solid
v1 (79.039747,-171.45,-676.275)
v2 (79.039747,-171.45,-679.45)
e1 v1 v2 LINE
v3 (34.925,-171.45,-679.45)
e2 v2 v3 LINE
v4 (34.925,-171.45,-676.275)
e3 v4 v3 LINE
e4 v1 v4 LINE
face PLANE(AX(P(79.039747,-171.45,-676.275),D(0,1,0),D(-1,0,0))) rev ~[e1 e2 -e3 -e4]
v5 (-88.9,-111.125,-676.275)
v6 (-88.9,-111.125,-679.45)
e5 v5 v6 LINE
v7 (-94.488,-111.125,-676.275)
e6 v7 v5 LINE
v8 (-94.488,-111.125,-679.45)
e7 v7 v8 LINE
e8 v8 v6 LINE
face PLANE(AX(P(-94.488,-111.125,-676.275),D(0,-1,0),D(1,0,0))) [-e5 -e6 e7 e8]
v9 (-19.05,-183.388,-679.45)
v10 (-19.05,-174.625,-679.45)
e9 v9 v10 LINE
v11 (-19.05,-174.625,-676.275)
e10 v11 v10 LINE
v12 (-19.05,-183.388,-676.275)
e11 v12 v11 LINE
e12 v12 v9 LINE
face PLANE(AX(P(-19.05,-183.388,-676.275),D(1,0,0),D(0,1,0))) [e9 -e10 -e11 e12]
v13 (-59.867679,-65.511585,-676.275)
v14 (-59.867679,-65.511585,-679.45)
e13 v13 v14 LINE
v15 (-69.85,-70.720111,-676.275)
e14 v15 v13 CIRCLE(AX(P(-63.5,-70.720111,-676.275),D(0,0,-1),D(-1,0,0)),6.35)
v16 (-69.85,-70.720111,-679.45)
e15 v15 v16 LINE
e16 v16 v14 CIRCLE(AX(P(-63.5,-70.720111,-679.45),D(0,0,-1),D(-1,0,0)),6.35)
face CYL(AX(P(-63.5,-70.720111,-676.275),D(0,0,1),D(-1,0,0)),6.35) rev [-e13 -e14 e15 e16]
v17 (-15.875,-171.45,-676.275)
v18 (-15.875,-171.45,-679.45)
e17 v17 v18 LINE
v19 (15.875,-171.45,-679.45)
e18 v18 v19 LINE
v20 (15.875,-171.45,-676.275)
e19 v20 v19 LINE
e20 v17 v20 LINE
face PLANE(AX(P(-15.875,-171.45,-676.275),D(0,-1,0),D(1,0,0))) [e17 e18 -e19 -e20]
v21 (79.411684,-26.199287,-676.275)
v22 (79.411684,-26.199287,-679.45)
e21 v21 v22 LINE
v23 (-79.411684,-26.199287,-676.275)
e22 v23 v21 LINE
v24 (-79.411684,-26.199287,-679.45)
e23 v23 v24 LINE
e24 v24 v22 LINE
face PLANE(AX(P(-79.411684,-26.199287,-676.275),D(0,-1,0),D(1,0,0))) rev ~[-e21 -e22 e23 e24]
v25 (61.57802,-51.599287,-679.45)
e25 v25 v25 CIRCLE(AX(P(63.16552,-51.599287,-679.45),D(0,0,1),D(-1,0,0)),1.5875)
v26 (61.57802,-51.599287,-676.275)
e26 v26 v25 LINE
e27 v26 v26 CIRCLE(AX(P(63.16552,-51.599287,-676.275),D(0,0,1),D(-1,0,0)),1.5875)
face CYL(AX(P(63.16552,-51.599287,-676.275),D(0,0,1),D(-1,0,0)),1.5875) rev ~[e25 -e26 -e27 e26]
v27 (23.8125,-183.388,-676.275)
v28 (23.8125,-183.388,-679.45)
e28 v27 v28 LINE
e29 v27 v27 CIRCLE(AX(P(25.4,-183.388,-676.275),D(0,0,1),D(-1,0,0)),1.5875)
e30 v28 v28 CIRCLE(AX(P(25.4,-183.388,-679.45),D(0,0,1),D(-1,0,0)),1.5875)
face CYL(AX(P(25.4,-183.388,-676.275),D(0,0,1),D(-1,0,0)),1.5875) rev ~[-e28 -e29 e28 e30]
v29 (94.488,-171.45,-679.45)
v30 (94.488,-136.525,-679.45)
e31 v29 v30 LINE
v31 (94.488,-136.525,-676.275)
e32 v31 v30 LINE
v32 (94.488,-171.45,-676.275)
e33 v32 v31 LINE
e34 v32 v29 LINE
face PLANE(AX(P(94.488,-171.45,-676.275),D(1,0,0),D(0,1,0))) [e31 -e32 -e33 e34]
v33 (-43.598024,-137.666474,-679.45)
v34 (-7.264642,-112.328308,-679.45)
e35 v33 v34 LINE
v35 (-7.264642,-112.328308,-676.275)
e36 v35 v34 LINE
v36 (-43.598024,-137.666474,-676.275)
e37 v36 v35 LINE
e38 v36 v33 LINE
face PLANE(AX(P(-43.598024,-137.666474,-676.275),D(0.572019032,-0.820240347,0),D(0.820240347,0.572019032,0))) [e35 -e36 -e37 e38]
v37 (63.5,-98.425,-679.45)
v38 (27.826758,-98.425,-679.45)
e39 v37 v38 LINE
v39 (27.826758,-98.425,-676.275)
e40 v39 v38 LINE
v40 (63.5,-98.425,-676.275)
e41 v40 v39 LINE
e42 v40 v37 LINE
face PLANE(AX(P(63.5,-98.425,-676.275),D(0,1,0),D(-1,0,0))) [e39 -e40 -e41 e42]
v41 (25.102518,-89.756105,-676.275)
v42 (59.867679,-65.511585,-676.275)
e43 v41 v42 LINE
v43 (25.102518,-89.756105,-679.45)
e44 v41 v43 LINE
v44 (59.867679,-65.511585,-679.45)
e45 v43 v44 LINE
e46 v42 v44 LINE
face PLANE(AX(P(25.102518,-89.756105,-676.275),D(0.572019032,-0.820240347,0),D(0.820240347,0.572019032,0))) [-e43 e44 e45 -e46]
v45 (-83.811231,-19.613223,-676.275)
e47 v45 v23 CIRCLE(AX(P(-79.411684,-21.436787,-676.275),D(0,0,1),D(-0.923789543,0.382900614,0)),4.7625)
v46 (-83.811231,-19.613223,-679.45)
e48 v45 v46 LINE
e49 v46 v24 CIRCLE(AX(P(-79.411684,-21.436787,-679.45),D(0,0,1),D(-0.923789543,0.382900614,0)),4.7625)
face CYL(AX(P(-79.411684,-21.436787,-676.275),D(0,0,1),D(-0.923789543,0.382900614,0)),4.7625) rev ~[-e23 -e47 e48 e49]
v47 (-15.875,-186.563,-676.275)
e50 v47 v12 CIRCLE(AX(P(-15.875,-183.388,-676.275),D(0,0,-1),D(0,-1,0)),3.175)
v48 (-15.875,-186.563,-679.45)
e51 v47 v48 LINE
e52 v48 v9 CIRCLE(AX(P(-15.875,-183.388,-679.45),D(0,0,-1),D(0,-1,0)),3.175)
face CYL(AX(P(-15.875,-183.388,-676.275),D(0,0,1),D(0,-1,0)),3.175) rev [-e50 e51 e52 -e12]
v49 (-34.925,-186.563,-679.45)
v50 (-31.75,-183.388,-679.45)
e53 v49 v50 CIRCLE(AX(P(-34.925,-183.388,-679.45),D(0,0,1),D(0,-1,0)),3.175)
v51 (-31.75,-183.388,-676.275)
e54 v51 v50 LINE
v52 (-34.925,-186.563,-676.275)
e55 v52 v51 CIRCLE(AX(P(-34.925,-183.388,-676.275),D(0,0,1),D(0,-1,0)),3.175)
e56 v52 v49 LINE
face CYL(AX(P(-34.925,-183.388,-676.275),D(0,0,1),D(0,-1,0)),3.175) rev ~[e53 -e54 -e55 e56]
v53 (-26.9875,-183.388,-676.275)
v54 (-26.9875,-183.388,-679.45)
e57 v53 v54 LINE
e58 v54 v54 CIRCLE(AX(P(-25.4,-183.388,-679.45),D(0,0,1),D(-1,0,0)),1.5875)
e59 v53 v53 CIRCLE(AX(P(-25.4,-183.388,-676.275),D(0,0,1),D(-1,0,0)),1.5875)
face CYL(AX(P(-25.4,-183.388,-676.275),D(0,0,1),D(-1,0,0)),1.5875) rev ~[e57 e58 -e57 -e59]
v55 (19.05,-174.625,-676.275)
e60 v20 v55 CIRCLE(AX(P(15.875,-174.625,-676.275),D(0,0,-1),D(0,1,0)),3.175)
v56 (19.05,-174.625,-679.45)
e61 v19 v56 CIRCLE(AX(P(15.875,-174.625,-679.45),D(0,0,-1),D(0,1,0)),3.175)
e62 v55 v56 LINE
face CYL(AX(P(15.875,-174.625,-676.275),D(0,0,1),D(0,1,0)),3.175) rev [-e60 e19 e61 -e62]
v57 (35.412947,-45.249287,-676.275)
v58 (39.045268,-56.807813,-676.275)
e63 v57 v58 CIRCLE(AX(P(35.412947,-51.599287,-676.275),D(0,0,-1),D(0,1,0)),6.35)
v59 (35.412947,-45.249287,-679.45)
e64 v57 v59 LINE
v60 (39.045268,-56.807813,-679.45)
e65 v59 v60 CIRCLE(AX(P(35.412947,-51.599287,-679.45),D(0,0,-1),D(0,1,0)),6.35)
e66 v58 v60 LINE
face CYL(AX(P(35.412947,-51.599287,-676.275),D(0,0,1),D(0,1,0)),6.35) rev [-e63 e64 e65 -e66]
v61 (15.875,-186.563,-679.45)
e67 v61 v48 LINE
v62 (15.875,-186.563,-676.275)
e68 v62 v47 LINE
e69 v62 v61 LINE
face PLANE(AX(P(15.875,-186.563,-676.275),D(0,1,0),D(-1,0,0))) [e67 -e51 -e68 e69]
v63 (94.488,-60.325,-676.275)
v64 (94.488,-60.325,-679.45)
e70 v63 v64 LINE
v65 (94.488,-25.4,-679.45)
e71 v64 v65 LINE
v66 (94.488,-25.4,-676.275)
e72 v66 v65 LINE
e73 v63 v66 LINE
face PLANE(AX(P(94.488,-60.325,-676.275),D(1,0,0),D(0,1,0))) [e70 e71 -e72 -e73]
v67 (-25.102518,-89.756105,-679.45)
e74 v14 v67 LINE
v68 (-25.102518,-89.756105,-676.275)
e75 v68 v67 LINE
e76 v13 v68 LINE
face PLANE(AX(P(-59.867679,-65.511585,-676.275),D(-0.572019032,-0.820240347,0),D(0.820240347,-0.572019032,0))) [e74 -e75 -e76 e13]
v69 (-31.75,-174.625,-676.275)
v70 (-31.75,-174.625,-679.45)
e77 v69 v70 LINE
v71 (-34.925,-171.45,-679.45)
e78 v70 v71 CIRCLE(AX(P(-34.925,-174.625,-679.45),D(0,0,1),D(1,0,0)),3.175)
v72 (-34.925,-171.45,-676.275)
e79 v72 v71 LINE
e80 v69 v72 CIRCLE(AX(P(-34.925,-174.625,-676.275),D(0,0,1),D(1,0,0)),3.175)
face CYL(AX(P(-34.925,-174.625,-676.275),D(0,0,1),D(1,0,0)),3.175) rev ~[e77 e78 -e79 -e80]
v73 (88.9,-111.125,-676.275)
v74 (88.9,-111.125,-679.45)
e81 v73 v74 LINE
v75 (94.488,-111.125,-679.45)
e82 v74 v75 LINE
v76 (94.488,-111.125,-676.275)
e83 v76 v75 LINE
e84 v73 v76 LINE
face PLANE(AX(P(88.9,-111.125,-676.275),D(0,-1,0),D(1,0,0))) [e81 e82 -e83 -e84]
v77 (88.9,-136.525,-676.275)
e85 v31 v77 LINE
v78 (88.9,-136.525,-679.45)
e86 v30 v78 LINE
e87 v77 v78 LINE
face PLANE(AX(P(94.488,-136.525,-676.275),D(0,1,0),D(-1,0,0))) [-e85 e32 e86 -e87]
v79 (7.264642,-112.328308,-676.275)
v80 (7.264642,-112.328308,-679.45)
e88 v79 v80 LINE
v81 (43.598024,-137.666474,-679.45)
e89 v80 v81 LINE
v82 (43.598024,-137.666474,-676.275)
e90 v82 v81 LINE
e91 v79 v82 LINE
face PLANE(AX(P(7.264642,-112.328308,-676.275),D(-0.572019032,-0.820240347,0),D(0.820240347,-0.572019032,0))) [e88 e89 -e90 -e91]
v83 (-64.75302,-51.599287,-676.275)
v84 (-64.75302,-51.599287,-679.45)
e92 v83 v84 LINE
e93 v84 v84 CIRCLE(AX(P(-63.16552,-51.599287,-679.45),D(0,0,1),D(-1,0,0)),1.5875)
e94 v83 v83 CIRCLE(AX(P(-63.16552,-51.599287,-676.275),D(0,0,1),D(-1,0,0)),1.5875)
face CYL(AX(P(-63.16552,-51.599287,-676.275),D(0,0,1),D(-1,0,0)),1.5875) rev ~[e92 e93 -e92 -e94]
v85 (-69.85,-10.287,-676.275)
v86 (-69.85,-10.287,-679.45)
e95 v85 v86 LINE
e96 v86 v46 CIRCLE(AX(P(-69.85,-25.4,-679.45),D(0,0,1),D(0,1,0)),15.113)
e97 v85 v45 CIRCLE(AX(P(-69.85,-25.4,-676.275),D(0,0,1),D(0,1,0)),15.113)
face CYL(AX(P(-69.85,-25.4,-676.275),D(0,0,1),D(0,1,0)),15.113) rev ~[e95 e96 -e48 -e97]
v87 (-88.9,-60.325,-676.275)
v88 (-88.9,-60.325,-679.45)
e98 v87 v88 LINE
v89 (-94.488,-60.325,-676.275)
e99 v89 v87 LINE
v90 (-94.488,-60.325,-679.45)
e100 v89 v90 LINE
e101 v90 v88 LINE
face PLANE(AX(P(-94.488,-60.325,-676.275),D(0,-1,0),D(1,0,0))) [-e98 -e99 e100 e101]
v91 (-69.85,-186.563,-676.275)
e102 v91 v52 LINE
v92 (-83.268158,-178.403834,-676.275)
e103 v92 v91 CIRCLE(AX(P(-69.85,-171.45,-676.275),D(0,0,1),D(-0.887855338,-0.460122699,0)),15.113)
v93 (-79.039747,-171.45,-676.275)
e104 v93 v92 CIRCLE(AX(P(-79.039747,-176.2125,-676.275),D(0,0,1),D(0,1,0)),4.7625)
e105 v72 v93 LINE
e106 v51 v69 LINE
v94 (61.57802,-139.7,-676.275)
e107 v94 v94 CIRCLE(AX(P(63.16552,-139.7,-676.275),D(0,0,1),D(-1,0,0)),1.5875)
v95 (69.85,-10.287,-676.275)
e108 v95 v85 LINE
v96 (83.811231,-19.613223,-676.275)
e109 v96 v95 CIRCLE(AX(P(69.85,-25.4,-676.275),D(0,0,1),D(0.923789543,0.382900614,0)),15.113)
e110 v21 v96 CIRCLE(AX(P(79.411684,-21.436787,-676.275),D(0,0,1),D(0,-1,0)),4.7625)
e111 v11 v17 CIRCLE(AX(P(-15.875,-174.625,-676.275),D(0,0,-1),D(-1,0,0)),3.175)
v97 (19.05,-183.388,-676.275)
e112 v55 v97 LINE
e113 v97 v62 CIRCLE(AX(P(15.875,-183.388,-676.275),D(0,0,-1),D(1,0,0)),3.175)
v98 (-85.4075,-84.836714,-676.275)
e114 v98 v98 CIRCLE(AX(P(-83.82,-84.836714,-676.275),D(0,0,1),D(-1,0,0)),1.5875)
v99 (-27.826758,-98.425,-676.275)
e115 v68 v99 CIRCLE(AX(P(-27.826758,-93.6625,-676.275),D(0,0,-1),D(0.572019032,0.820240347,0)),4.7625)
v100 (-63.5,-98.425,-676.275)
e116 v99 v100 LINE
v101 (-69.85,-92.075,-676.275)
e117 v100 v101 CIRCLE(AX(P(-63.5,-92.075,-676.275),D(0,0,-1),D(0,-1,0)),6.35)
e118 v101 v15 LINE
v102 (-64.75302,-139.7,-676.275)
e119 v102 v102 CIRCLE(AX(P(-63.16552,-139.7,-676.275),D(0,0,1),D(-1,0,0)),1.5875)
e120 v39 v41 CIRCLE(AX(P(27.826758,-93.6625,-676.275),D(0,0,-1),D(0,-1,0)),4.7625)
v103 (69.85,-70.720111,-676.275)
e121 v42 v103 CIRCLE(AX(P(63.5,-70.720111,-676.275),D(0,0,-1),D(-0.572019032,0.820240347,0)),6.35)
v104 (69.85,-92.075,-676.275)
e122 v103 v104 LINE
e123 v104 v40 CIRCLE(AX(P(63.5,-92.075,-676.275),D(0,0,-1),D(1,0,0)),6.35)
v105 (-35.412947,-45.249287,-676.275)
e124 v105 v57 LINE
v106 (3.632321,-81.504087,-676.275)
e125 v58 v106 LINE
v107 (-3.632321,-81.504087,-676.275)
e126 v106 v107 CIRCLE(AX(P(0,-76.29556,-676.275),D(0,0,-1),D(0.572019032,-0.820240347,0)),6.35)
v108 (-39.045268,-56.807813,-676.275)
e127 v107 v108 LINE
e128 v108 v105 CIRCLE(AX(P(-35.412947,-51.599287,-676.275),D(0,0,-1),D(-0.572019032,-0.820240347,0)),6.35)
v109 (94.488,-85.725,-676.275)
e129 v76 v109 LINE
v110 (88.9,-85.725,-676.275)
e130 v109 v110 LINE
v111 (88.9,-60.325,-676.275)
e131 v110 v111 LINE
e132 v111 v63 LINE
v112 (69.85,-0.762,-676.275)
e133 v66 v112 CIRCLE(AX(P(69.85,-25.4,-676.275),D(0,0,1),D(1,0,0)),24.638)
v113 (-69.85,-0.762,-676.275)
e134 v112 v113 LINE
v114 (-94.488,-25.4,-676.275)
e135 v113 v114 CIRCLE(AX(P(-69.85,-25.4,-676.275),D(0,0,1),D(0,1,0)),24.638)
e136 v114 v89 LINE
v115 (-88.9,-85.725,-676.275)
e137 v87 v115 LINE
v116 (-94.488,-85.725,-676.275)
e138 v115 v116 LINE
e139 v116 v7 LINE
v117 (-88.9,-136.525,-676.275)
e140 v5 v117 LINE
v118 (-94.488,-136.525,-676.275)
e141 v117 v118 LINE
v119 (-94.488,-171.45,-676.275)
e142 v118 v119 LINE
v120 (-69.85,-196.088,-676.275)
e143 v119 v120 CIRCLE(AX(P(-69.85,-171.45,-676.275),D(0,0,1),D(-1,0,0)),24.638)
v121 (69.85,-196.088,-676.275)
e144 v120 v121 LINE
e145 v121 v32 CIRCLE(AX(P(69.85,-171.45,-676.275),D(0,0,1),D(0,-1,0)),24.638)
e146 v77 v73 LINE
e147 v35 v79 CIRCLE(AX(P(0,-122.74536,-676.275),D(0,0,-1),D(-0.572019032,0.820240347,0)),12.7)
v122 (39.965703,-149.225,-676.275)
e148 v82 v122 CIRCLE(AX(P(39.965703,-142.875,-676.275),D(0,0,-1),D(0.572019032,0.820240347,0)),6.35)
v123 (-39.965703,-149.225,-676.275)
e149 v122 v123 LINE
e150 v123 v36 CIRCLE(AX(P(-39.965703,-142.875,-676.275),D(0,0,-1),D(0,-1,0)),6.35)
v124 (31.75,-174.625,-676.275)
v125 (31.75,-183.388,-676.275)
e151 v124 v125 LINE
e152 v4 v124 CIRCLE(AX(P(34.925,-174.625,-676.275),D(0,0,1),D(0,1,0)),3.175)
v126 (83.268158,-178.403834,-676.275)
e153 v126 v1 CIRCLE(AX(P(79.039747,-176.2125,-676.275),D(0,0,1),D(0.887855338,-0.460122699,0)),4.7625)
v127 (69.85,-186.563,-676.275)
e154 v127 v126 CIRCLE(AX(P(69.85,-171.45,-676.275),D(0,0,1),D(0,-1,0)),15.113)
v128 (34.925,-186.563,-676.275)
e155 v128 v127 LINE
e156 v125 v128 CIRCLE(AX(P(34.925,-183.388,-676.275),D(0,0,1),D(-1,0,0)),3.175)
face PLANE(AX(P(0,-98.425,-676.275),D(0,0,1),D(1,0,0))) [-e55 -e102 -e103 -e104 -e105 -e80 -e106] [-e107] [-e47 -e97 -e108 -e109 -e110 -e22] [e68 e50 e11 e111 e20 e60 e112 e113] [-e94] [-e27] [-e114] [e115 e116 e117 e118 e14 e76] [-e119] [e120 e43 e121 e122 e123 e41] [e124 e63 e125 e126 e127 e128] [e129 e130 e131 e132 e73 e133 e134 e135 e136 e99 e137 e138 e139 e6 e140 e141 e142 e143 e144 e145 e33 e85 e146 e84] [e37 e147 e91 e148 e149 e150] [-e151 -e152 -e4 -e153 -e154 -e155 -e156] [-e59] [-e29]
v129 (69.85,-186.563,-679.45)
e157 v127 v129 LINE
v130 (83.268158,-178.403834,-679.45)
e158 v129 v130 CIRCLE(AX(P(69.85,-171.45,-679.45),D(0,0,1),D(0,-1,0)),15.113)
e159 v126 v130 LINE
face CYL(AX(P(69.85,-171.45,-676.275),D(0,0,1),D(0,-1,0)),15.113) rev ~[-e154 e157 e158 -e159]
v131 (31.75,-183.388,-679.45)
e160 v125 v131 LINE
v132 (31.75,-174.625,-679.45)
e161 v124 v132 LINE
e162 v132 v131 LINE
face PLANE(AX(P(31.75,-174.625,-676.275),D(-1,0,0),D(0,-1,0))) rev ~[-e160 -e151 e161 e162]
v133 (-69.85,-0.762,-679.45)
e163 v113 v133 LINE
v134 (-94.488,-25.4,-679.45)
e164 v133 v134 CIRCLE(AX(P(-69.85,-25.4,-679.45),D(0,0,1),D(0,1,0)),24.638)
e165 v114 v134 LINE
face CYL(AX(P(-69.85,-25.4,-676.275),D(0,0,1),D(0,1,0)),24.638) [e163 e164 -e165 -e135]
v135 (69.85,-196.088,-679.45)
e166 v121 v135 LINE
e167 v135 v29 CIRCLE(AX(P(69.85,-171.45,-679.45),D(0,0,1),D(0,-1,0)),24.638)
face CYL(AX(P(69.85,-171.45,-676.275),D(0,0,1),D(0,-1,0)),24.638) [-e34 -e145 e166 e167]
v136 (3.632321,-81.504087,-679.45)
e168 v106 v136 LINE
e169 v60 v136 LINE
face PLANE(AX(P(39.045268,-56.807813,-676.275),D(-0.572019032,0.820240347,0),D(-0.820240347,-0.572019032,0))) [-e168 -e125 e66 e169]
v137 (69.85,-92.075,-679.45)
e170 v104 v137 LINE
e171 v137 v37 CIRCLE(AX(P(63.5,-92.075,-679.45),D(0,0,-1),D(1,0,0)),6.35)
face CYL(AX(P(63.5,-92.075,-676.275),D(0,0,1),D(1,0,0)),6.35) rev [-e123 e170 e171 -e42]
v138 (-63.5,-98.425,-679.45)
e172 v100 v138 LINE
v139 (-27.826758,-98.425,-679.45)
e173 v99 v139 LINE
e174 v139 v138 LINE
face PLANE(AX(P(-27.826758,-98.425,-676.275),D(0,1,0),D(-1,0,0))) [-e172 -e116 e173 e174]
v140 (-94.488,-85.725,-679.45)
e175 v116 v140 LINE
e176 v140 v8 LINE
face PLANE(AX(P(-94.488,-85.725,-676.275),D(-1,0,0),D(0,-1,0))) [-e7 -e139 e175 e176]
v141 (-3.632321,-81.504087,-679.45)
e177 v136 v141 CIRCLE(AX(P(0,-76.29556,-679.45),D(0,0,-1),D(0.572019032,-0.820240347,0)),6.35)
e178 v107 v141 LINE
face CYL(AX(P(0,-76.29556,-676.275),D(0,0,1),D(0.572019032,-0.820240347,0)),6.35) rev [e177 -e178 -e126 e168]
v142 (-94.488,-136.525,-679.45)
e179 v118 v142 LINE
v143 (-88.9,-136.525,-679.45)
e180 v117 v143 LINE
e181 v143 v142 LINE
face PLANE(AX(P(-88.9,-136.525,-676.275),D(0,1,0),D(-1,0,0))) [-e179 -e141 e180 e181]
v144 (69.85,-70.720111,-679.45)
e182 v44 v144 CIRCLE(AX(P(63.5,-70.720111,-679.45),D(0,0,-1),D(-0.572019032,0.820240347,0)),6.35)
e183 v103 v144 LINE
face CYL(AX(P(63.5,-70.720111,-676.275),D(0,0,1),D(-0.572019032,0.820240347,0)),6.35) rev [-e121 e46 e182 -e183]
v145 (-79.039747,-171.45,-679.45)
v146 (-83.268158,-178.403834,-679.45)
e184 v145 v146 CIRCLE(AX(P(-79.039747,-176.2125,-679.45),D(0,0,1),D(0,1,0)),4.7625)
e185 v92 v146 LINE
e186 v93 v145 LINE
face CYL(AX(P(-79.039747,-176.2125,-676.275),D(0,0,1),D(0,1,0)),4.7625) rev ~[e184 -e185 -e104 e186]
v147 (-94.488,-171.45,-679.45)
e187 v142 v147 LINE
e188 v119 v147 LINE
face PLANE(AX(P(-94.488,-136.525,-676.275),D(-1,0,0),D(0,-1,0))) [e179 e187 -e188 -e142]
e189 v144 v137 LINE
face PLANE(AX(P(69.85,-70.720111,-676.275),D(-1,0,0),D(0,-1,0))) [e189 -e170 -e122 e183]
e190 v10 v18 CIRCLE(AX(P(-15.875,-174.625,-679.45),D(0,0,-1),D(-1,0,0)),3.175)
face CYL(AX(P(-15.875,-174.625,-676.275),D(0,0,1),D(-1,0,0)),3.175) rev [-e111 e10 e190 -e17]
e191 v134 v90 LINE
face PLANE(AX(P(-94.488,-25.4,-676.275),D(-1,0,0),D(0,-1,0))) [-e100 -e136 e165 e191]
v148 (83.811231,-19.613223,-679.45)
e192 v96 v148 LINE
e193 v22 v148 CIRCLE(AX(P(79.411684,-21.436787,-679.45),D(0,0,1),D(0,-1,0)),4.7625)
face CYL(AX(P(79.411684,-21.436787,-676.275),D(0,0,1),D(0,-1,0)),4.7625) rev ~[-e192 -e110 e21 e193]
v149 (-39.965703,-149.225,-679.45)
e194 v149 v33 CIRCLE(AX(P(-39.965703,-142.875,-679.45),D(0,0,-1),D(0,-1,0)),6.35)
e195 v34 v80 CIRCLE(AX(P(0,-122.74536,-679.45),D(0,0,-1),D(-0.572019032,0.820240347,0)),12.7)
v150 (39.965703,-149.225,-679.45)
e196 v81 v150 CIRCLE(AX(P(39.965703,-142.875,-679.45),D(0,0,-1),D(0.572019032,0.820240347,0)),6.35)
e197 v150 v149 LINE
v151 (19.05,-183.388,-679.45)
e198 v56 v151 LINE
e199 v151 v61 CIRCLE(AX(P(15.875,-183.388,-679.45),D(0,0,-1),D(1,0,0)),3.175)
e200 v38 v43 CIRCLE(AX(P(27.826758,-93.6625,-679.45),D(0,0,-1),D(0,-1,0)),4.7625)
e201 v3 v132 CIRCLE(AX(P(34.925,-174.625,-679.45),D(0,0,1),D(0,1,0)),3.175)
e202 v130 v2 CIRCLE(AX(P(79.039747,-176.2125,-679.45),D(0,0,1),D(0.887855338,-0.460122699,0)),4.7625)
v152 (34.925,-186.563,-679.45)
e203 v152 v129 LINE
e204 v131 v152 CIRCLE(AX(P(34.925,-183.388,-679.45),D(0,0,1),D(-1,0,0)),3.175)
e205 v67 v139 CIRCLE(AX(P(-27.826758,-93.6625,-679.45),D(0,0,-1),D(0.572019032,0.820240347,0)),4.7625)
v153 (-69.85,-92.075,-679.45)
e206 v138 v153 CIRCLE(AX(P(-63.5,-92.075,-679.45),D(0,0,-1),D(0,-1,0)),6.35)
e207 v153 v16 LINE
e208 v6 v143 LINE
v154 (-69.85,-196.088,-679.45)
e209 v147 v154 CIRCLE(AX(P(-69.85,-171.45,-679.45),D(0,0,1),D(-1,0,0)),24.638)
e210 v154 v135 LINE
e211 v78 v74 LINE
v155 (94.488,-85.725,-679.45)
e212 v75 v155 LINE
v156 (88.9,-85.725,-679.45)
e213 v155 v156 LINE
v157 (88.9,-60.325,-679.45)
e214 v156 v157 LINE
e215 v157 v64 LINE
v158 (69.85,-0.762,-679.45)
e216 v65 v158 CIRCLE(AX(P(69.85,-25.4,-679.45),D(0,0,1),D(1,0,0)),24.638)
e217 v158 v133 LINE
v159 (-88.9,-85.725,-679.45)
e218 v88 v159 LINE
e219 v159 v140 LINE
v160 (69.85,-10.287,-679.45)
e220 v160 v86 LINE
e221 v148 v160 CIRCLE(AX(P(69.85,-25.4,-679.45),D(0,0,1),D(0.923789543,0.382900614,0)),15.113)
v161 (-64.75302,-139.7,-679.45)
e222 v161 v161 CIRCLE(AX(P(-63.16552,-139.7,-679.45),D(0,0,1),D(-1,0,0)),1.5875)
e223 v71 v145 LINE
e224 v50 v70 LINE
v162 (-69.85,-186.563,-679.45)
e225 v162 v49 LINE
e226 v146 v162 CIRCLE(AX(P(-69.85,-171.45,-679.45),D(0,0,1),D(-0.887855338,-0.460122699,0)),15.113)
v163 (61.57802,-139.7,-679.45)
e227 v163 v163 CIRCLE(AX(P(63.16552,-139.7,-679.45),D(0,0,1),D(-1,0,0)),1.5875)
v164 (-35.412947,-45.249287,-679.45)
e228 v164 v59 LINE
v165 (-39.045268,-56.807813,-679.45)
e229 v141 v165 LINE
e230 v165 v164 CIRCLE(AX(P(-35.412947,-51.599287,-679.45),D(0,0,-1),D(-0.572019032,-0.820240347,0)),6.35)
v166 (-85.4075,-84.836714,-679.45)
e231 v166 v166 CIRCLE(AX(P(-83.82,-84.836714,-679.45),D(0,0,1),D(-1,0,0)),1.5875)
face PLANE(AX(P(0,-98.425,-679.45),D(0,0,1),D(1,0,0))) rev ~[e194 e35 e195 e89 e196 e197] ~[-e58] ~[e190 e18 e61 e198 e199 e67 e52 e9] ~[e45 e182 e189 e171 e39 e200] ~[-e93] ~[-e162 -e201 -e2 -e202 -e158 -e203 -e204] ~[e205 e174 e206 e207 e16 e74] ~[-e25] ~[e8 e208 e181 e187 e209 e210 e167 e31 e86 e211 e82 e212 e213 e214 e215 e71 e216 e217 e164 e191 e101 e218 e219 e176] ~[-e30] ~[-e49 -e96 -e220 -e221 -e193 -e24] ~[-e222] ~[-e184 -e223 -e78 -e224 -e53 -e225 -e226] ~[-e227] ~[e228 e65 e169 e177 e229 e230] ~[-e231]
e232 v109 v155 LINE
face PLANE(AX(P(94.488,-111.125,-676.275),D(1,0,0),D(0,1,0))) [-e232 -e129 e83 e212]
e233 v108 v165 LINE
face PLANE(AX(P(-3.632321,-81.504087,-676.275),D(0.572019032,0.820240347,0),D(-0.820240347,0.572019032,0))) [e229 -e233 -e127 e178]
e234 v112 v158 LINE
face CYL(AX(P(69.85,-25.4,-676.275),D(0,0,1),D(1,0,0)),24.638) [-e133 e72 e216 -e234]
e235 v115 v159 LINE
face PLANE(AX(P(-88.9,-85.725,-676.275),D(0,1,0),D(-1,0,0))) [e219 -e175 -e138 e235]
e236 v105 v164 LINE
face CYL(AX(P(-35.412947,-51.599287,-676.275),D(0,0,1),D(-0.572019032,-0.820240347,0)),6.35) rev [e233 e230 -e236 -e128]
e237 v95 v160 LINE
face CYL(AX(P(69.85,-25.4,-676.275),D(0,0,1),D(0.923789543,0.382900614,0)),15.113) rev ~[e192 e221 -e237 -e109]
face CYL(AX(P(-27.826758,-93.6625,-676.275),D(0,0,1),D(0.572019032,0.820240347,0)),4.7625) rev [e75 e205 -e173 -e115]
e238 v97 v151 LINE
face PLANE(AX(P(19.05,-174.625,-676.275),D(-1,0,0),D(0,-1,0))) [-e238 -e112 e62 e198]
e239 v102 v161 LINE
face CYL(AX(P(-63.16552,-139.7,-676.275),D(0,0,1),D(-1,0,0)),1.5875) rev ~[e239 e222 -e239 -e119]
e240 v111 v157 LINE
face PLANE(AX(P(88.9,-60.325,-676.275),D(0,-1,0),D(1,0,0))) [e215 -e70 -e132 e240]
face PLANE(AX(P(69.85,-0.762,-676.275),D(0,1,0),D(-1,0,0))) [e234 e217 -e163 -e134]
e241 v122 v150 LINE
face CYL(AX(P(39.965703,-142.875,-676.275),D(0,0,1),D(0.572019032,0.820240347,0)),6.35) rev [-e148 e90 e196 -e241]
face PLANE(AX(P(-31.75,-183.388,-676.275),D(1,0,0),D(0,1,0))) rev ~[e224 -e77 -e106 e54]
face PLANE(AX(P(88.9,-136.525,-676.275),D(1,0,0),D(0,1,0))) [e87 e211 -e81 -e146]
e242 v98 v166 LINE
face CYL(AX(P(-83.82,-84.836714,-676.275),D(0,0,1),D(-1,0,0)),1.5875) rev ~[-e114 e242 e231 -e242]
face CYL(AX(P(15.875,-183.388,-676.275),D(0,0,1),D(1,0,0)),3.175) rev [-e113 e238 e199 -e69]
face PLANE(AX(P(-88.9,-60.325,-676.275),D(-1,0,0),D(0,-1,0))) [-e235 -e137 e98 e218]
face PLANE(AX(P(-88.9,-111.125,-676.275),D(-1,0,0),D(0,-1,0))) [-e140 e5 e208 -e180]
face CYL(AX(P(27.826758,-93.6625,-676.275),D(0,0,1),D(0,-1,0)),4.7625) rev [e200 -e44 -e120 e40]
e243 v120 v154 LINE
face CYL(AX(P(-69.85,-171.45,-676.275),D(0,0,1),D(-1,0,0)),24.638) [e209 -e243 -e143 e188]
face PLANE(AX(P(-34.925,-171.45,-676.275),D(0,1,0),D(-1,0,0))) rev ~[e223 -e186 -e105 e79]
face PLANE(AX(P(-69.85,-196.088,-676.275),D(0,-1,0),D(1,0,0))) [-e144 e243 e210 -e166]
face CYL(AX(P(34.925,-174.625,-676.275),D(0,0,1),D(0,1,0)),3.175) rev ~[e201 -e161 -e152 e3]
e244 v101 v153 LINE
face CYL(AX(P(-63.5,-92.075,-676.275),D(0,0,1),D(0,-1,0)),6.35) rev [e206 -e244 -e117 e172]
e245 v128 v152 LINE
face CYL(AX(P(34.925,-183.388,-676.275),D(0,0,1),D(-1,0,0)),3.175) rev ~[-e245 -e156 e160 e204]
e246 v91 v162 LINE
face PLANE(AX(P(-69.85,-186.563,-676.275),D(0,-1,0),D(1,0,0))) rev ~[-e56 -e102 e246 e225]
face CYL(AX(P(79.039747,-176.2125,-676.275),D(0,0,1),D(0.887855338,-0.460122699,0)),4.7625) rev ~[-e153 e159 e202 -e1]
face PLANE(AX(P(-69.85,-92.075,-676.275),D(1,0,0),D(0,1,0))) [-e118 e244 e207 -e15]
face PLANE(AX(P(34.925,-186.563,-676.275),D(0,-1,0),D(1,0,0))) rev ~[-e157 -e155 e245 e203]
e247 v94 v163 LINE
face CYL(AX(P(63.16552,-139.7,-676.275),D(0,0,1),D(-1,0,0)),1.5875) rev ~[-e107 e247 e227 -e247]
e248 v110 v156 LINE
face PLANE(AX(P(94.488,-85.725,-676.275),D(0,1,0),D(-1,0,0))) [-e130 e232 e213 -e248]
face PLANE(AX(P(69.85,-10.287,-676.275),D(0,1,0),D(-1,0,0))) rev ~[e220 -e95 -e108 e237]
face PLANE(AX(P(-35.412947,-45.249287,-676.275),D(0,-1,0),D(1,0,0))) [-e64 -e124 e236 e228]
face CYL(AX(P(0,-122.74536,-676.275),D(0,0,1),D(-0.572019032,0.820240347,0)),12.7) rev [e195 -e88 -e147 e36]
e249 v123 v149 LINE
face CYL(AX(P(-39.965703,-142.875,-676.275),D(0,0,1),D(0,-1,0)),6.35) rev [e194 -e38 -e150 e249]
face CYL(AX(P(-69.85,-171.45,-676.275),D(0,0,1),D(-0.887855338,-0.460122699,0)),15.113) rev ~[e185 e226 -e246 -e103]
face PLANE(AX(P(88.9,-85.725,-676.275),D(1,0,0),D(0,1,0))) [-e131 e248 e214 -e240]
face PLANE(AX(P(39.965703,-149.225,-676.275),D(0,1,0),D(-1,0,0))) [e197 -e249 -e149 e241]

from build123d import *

# Parameters (mm, degrees)
SKETCH1_R           = 1.5875
BOSS_EXTRUDE1_DEPTH = 3.175


with BuildPart() as part:
    # Sketch1 → Boss-Extrude1 (new body)
    with BuildSketch(Plane.XY.offset(-676.275)):
        with BuildLine():
            Line((94.488, -171.45), (94.488, -136.525))
            Line((94.488, -136.525), (88.9, -136.525))
            Line((88.9, -136.525), (88.9, -111.125))
            Line((88.9, -111.125), (94.488, -111.125))
            Line((94.488, -111.125), (94.488, -85.725))
            Line((94.488, -85.725), (88.9, -85.725))
            Line((88.9, -85.725), (88.9, -60.325))
            Line((88.9, -60.325), (94.488, -60.325))
            Line((94.488, -60.325), (94.488, -25.4))
            ThreePointArc((94.488, -25.4), (87.271696875, -7.978303125), (69.85, -0.762))
            Line((69.85, -0.762), (-69.85, -0.762))
            ThreePointArc((-69.85, -0.762), (-87.271696875, -7.978303125), (-94.488, -25.4))
            Line((-94.488, -25.4), (-94.488, -60.325))
            Line((-94.488, -60.325), (-88.9, -60.325))
            Line((-88.9, -60.325), (-88.9, -85.725))
            Line((-88.9, -85.725), (-94.488, -85.725))
            Line((-94.488, -85.725), (-94.488, -111.125))
            Line((-94.488, -111.125), (-88.9, -111.125))
            Line((-88.9, -111.125), (-88.9, -136.525))
            Line((-88.9, -136.525), (-94.488, -136.525))
            Line((-94.488, -136.525), (-94.488, -171.45))
            ThreePointArc((-94.488, -171.45), (-87.271696875, -188.871696875), (-69.85, -196.088))
            Line((-69.85, -196.088), (69.85, -196.088))
            ThreePointArc((69.85, -196.088), (87.271696875, -188.871696875), (94.488, -171.45))
        make_face()
        with Locations(Location((63.1655201, -139.7, 0), (0, 0, 180))):
            Circle(SKETCH1_R, mode=Mode.SUBTRACT)
        with Locations(Location((-83.82, -84.836714101, 0), (0, 0, 180))):
            Circle(SKETCH1_R, mode=Mode.SUBTRACT)
        with Locations(Location((-63.1655201, -51.5992872, 0), (0, 0, 180))):
            Circle(SKETCH1_R, mode=Mode.SUBTRACT)
        with Locations(Location((25.4, -183.388, 0), (0, 0, 180))):
            Circle(SKETCH1_R, mode=Mode.SUBTRACT)
        with Locations(Location((-25.4, -183.388, 0), (0, 0, 180))):
            Circle(SKETCH1_R, mode=Mode.SUBTRACT)
        with Locations(Location((-63.1655201, -139.7, 0), (0, 0, 180))):
            Circle(SKETCH1_R, mode=Mode.SUBTRACT)
        with Locations(Location((63.1655201, -51.5992872, 0), (0, 0, 180))):
            Circle(SKETCH1_R, mode=Mode.SUBTRACT)
        with BuildLine():
            Line((7.264641701, -112.328307791), (43.598023874, -137.666473794))
            ThreePointArc((43.598023874, -137.666473794), (46.023616914, -144.778727737), (39.965703023, -149.225))
            Line((39.965703023, -149.225), (-39.965703023, -149.225))
            ThreePointArc((-39.965703023, -149.225), (-46.023616914, -144.778727737), (-43.598023874, -137.666473794))
            Line((-43.598023874, -137.666473794), (-7.264641701, -112.328307791))
            ThreePointArc((-7.264641701, -112.328307791), (0, -110.045360203), (7.264641701, -112.328307791))
        make_face(mode=Mode.SUBTRACT)
        with BuildLine():
            Line((39.04526783, -56.807813406), (3.632320851, -81.504086518))
            ThreePointArc((3.632320851, -81.504086518), (0, -82.645560312), (-3.632320851, -81.504086518))
            Line((-3.632320851, -81.504086518), (-39.04526783, -56.807813406))
            ThreePointArc((-39.04526783, -56.807813406), (-41.47086087, -49.695559463), (-35.41294698, -45.2492872))
            Line((-35.41294698, -45.2492872), (35.41294698, -45.2492872))
            ThreePointArc((35.41294698, -45.2492872), (41.47086087, -49.695559463), (39.04526783, -56.807813406))
        make_face(mode=Mode.SUBTRACT)
        with BuildLine():
            Line((69.85, -70.72011097), (69.85, -92.075))
            ThreePointArc((69.85, -92.075), (67.990128061, -96.565128061), (63.5, -98.425))
            Line((63.5, -98.425), (27.826758339, -98.425))
            ThreePointArc((27.826758339, -98.425), (23.283322921, -95.090295803), (25.102517701, -89.756105345))
            Line((25.102517701, -89.756105345), (59.867679149, -65.511584764))
            ThreePointArc((59.867679149, -65.511584764), (66.4374532, -65.090380186), (69.85, -70.72011097))
        make_face(mode=Mode.SUBTRACT)
        with BuildLine():
            Line((-59.867679149, -65.511584764), (-25.102517701, -89.756105345))
            ThreePointArc((-25.102517701, -89.756105345), (-23.283322921, -95.090295803), (-27.826758339, -98.425))
            Line((-27.826758339, -98.425), (-63.5, -98.425))
            ThreePointArc((-63.5, -98.425), (-67.990128061, -96.565128061), (-69.85, -92.075))
            Line((-69.85, -92.075), (-69.85, -70.72011097))
            ThreePointArc((-69.85, -70.72011097), (-66.4374532, -65.090380186), (-59.867679149, -65.511584764))
        make_face(mode=Mode.SUBTRACT)
        with BuildLine():
            Line((-69.85, -186.563), (-34.925, -186.563))
            ThreePointArc((-34.925, -186.563), (-32.67993597, -185.63306403), (-31.75, -183.388))
            Line((-31.75, -183.388), (-31.75, -174.625))
            ThreePointArc((-31.75, -174.625), (-32.67993597, -172.37993597), (-34.925, -171.45))
            Line((-34.925, -171.45), (-79.039746678, -171.45))
            ThreePointArc((-79.039746678, -171.45), (-83.108999442, -173.738113573), (-83.268157726, -178.403834356))
            ThreePointArc((-83.268157726, -178.403834356), (-77.702052928, -184.363095439), (-69.85, -186.563))
        make_face(mode=Mode.SUBTRACT)
        with BuildLine():
            Line((69.85, -10.287), (-69.85, -10.287))
            ThreePointArc((-69.85, -10.287), (-78.244855824, -12.833012903), (-83.811231367, -19.613223028))
            ThreePointArc((-83.811231367, -19.613223028), (-83.371868677, -24.08222496), (-79.411683667, -26.1992872))
            Line((-79.411683667, -26.1992872), (79.411683667, -26.1992872))
            ThreePointArc((79.411683667, -26.1992872), (83.371868677, -24.08222496), (83.811231367, -19.613223028))
            ThreePointArc((83.811231367, -19.613223028), (78.244855824, -12.833012903), (69.85, -10.287))
        make_face(mode=Mode.SUBTRACT)
        with BuildLine():
            Line((-19.05, -183.388), (-19.05, -174.625))
            ThreePointArc((-19.05, -174.625), (-18.12006403, -172.37993597), (-15.875, -171.45))
            Line((-15.875, -171.45), (15.875, -171.45))
            ThreePointArc((15.875, -171.45), (18.12006403, -172.37993597), (19.05, -174.625))
            Line((19.05, -174.625), (19.05, -183.388))
            ThreePointArc((19.05, -183.388), (18.12006403, -185.63306403), (15.875, -186.563))
            Line((15.875, -186.563), (-15.875, -186.563))
            ThreePointArc((-15.875, -186.563), (-18.12006403, -185.63306403), (-19.05, -183.388))
        make_face(mode=Mode.SUBTRACT)
        with BuildLine():
            Line((31.75, -174.625), (31.75, -183.388))
            ThreePointArc((31.75, -183.388), (32.67993597, -185.63306403), (34.925, -186.563))
            Line((34.925, -186.563), (69.85, -186.563))
            ThreePointArc((69.85, -186.563), (77.702052928, -184.363095439), (83.268157726, -178.403834356))
            ThreePointArc((83.268157726, -178.403834356), (83.108999442, -173.738113573), (79.039746678, -171.45))
            Line((79.039746678, -171.45), (34.925, -171.45))
            ThreePointArc((34.925, -171.45), (32.67993597, -172.37993597), (31.75, -174.625))
        make_face(mode=Mode.SUBTRACT)
    extrude(amount=-BOSS_EXTRUDE1_DEPTH)


solid = part.part
